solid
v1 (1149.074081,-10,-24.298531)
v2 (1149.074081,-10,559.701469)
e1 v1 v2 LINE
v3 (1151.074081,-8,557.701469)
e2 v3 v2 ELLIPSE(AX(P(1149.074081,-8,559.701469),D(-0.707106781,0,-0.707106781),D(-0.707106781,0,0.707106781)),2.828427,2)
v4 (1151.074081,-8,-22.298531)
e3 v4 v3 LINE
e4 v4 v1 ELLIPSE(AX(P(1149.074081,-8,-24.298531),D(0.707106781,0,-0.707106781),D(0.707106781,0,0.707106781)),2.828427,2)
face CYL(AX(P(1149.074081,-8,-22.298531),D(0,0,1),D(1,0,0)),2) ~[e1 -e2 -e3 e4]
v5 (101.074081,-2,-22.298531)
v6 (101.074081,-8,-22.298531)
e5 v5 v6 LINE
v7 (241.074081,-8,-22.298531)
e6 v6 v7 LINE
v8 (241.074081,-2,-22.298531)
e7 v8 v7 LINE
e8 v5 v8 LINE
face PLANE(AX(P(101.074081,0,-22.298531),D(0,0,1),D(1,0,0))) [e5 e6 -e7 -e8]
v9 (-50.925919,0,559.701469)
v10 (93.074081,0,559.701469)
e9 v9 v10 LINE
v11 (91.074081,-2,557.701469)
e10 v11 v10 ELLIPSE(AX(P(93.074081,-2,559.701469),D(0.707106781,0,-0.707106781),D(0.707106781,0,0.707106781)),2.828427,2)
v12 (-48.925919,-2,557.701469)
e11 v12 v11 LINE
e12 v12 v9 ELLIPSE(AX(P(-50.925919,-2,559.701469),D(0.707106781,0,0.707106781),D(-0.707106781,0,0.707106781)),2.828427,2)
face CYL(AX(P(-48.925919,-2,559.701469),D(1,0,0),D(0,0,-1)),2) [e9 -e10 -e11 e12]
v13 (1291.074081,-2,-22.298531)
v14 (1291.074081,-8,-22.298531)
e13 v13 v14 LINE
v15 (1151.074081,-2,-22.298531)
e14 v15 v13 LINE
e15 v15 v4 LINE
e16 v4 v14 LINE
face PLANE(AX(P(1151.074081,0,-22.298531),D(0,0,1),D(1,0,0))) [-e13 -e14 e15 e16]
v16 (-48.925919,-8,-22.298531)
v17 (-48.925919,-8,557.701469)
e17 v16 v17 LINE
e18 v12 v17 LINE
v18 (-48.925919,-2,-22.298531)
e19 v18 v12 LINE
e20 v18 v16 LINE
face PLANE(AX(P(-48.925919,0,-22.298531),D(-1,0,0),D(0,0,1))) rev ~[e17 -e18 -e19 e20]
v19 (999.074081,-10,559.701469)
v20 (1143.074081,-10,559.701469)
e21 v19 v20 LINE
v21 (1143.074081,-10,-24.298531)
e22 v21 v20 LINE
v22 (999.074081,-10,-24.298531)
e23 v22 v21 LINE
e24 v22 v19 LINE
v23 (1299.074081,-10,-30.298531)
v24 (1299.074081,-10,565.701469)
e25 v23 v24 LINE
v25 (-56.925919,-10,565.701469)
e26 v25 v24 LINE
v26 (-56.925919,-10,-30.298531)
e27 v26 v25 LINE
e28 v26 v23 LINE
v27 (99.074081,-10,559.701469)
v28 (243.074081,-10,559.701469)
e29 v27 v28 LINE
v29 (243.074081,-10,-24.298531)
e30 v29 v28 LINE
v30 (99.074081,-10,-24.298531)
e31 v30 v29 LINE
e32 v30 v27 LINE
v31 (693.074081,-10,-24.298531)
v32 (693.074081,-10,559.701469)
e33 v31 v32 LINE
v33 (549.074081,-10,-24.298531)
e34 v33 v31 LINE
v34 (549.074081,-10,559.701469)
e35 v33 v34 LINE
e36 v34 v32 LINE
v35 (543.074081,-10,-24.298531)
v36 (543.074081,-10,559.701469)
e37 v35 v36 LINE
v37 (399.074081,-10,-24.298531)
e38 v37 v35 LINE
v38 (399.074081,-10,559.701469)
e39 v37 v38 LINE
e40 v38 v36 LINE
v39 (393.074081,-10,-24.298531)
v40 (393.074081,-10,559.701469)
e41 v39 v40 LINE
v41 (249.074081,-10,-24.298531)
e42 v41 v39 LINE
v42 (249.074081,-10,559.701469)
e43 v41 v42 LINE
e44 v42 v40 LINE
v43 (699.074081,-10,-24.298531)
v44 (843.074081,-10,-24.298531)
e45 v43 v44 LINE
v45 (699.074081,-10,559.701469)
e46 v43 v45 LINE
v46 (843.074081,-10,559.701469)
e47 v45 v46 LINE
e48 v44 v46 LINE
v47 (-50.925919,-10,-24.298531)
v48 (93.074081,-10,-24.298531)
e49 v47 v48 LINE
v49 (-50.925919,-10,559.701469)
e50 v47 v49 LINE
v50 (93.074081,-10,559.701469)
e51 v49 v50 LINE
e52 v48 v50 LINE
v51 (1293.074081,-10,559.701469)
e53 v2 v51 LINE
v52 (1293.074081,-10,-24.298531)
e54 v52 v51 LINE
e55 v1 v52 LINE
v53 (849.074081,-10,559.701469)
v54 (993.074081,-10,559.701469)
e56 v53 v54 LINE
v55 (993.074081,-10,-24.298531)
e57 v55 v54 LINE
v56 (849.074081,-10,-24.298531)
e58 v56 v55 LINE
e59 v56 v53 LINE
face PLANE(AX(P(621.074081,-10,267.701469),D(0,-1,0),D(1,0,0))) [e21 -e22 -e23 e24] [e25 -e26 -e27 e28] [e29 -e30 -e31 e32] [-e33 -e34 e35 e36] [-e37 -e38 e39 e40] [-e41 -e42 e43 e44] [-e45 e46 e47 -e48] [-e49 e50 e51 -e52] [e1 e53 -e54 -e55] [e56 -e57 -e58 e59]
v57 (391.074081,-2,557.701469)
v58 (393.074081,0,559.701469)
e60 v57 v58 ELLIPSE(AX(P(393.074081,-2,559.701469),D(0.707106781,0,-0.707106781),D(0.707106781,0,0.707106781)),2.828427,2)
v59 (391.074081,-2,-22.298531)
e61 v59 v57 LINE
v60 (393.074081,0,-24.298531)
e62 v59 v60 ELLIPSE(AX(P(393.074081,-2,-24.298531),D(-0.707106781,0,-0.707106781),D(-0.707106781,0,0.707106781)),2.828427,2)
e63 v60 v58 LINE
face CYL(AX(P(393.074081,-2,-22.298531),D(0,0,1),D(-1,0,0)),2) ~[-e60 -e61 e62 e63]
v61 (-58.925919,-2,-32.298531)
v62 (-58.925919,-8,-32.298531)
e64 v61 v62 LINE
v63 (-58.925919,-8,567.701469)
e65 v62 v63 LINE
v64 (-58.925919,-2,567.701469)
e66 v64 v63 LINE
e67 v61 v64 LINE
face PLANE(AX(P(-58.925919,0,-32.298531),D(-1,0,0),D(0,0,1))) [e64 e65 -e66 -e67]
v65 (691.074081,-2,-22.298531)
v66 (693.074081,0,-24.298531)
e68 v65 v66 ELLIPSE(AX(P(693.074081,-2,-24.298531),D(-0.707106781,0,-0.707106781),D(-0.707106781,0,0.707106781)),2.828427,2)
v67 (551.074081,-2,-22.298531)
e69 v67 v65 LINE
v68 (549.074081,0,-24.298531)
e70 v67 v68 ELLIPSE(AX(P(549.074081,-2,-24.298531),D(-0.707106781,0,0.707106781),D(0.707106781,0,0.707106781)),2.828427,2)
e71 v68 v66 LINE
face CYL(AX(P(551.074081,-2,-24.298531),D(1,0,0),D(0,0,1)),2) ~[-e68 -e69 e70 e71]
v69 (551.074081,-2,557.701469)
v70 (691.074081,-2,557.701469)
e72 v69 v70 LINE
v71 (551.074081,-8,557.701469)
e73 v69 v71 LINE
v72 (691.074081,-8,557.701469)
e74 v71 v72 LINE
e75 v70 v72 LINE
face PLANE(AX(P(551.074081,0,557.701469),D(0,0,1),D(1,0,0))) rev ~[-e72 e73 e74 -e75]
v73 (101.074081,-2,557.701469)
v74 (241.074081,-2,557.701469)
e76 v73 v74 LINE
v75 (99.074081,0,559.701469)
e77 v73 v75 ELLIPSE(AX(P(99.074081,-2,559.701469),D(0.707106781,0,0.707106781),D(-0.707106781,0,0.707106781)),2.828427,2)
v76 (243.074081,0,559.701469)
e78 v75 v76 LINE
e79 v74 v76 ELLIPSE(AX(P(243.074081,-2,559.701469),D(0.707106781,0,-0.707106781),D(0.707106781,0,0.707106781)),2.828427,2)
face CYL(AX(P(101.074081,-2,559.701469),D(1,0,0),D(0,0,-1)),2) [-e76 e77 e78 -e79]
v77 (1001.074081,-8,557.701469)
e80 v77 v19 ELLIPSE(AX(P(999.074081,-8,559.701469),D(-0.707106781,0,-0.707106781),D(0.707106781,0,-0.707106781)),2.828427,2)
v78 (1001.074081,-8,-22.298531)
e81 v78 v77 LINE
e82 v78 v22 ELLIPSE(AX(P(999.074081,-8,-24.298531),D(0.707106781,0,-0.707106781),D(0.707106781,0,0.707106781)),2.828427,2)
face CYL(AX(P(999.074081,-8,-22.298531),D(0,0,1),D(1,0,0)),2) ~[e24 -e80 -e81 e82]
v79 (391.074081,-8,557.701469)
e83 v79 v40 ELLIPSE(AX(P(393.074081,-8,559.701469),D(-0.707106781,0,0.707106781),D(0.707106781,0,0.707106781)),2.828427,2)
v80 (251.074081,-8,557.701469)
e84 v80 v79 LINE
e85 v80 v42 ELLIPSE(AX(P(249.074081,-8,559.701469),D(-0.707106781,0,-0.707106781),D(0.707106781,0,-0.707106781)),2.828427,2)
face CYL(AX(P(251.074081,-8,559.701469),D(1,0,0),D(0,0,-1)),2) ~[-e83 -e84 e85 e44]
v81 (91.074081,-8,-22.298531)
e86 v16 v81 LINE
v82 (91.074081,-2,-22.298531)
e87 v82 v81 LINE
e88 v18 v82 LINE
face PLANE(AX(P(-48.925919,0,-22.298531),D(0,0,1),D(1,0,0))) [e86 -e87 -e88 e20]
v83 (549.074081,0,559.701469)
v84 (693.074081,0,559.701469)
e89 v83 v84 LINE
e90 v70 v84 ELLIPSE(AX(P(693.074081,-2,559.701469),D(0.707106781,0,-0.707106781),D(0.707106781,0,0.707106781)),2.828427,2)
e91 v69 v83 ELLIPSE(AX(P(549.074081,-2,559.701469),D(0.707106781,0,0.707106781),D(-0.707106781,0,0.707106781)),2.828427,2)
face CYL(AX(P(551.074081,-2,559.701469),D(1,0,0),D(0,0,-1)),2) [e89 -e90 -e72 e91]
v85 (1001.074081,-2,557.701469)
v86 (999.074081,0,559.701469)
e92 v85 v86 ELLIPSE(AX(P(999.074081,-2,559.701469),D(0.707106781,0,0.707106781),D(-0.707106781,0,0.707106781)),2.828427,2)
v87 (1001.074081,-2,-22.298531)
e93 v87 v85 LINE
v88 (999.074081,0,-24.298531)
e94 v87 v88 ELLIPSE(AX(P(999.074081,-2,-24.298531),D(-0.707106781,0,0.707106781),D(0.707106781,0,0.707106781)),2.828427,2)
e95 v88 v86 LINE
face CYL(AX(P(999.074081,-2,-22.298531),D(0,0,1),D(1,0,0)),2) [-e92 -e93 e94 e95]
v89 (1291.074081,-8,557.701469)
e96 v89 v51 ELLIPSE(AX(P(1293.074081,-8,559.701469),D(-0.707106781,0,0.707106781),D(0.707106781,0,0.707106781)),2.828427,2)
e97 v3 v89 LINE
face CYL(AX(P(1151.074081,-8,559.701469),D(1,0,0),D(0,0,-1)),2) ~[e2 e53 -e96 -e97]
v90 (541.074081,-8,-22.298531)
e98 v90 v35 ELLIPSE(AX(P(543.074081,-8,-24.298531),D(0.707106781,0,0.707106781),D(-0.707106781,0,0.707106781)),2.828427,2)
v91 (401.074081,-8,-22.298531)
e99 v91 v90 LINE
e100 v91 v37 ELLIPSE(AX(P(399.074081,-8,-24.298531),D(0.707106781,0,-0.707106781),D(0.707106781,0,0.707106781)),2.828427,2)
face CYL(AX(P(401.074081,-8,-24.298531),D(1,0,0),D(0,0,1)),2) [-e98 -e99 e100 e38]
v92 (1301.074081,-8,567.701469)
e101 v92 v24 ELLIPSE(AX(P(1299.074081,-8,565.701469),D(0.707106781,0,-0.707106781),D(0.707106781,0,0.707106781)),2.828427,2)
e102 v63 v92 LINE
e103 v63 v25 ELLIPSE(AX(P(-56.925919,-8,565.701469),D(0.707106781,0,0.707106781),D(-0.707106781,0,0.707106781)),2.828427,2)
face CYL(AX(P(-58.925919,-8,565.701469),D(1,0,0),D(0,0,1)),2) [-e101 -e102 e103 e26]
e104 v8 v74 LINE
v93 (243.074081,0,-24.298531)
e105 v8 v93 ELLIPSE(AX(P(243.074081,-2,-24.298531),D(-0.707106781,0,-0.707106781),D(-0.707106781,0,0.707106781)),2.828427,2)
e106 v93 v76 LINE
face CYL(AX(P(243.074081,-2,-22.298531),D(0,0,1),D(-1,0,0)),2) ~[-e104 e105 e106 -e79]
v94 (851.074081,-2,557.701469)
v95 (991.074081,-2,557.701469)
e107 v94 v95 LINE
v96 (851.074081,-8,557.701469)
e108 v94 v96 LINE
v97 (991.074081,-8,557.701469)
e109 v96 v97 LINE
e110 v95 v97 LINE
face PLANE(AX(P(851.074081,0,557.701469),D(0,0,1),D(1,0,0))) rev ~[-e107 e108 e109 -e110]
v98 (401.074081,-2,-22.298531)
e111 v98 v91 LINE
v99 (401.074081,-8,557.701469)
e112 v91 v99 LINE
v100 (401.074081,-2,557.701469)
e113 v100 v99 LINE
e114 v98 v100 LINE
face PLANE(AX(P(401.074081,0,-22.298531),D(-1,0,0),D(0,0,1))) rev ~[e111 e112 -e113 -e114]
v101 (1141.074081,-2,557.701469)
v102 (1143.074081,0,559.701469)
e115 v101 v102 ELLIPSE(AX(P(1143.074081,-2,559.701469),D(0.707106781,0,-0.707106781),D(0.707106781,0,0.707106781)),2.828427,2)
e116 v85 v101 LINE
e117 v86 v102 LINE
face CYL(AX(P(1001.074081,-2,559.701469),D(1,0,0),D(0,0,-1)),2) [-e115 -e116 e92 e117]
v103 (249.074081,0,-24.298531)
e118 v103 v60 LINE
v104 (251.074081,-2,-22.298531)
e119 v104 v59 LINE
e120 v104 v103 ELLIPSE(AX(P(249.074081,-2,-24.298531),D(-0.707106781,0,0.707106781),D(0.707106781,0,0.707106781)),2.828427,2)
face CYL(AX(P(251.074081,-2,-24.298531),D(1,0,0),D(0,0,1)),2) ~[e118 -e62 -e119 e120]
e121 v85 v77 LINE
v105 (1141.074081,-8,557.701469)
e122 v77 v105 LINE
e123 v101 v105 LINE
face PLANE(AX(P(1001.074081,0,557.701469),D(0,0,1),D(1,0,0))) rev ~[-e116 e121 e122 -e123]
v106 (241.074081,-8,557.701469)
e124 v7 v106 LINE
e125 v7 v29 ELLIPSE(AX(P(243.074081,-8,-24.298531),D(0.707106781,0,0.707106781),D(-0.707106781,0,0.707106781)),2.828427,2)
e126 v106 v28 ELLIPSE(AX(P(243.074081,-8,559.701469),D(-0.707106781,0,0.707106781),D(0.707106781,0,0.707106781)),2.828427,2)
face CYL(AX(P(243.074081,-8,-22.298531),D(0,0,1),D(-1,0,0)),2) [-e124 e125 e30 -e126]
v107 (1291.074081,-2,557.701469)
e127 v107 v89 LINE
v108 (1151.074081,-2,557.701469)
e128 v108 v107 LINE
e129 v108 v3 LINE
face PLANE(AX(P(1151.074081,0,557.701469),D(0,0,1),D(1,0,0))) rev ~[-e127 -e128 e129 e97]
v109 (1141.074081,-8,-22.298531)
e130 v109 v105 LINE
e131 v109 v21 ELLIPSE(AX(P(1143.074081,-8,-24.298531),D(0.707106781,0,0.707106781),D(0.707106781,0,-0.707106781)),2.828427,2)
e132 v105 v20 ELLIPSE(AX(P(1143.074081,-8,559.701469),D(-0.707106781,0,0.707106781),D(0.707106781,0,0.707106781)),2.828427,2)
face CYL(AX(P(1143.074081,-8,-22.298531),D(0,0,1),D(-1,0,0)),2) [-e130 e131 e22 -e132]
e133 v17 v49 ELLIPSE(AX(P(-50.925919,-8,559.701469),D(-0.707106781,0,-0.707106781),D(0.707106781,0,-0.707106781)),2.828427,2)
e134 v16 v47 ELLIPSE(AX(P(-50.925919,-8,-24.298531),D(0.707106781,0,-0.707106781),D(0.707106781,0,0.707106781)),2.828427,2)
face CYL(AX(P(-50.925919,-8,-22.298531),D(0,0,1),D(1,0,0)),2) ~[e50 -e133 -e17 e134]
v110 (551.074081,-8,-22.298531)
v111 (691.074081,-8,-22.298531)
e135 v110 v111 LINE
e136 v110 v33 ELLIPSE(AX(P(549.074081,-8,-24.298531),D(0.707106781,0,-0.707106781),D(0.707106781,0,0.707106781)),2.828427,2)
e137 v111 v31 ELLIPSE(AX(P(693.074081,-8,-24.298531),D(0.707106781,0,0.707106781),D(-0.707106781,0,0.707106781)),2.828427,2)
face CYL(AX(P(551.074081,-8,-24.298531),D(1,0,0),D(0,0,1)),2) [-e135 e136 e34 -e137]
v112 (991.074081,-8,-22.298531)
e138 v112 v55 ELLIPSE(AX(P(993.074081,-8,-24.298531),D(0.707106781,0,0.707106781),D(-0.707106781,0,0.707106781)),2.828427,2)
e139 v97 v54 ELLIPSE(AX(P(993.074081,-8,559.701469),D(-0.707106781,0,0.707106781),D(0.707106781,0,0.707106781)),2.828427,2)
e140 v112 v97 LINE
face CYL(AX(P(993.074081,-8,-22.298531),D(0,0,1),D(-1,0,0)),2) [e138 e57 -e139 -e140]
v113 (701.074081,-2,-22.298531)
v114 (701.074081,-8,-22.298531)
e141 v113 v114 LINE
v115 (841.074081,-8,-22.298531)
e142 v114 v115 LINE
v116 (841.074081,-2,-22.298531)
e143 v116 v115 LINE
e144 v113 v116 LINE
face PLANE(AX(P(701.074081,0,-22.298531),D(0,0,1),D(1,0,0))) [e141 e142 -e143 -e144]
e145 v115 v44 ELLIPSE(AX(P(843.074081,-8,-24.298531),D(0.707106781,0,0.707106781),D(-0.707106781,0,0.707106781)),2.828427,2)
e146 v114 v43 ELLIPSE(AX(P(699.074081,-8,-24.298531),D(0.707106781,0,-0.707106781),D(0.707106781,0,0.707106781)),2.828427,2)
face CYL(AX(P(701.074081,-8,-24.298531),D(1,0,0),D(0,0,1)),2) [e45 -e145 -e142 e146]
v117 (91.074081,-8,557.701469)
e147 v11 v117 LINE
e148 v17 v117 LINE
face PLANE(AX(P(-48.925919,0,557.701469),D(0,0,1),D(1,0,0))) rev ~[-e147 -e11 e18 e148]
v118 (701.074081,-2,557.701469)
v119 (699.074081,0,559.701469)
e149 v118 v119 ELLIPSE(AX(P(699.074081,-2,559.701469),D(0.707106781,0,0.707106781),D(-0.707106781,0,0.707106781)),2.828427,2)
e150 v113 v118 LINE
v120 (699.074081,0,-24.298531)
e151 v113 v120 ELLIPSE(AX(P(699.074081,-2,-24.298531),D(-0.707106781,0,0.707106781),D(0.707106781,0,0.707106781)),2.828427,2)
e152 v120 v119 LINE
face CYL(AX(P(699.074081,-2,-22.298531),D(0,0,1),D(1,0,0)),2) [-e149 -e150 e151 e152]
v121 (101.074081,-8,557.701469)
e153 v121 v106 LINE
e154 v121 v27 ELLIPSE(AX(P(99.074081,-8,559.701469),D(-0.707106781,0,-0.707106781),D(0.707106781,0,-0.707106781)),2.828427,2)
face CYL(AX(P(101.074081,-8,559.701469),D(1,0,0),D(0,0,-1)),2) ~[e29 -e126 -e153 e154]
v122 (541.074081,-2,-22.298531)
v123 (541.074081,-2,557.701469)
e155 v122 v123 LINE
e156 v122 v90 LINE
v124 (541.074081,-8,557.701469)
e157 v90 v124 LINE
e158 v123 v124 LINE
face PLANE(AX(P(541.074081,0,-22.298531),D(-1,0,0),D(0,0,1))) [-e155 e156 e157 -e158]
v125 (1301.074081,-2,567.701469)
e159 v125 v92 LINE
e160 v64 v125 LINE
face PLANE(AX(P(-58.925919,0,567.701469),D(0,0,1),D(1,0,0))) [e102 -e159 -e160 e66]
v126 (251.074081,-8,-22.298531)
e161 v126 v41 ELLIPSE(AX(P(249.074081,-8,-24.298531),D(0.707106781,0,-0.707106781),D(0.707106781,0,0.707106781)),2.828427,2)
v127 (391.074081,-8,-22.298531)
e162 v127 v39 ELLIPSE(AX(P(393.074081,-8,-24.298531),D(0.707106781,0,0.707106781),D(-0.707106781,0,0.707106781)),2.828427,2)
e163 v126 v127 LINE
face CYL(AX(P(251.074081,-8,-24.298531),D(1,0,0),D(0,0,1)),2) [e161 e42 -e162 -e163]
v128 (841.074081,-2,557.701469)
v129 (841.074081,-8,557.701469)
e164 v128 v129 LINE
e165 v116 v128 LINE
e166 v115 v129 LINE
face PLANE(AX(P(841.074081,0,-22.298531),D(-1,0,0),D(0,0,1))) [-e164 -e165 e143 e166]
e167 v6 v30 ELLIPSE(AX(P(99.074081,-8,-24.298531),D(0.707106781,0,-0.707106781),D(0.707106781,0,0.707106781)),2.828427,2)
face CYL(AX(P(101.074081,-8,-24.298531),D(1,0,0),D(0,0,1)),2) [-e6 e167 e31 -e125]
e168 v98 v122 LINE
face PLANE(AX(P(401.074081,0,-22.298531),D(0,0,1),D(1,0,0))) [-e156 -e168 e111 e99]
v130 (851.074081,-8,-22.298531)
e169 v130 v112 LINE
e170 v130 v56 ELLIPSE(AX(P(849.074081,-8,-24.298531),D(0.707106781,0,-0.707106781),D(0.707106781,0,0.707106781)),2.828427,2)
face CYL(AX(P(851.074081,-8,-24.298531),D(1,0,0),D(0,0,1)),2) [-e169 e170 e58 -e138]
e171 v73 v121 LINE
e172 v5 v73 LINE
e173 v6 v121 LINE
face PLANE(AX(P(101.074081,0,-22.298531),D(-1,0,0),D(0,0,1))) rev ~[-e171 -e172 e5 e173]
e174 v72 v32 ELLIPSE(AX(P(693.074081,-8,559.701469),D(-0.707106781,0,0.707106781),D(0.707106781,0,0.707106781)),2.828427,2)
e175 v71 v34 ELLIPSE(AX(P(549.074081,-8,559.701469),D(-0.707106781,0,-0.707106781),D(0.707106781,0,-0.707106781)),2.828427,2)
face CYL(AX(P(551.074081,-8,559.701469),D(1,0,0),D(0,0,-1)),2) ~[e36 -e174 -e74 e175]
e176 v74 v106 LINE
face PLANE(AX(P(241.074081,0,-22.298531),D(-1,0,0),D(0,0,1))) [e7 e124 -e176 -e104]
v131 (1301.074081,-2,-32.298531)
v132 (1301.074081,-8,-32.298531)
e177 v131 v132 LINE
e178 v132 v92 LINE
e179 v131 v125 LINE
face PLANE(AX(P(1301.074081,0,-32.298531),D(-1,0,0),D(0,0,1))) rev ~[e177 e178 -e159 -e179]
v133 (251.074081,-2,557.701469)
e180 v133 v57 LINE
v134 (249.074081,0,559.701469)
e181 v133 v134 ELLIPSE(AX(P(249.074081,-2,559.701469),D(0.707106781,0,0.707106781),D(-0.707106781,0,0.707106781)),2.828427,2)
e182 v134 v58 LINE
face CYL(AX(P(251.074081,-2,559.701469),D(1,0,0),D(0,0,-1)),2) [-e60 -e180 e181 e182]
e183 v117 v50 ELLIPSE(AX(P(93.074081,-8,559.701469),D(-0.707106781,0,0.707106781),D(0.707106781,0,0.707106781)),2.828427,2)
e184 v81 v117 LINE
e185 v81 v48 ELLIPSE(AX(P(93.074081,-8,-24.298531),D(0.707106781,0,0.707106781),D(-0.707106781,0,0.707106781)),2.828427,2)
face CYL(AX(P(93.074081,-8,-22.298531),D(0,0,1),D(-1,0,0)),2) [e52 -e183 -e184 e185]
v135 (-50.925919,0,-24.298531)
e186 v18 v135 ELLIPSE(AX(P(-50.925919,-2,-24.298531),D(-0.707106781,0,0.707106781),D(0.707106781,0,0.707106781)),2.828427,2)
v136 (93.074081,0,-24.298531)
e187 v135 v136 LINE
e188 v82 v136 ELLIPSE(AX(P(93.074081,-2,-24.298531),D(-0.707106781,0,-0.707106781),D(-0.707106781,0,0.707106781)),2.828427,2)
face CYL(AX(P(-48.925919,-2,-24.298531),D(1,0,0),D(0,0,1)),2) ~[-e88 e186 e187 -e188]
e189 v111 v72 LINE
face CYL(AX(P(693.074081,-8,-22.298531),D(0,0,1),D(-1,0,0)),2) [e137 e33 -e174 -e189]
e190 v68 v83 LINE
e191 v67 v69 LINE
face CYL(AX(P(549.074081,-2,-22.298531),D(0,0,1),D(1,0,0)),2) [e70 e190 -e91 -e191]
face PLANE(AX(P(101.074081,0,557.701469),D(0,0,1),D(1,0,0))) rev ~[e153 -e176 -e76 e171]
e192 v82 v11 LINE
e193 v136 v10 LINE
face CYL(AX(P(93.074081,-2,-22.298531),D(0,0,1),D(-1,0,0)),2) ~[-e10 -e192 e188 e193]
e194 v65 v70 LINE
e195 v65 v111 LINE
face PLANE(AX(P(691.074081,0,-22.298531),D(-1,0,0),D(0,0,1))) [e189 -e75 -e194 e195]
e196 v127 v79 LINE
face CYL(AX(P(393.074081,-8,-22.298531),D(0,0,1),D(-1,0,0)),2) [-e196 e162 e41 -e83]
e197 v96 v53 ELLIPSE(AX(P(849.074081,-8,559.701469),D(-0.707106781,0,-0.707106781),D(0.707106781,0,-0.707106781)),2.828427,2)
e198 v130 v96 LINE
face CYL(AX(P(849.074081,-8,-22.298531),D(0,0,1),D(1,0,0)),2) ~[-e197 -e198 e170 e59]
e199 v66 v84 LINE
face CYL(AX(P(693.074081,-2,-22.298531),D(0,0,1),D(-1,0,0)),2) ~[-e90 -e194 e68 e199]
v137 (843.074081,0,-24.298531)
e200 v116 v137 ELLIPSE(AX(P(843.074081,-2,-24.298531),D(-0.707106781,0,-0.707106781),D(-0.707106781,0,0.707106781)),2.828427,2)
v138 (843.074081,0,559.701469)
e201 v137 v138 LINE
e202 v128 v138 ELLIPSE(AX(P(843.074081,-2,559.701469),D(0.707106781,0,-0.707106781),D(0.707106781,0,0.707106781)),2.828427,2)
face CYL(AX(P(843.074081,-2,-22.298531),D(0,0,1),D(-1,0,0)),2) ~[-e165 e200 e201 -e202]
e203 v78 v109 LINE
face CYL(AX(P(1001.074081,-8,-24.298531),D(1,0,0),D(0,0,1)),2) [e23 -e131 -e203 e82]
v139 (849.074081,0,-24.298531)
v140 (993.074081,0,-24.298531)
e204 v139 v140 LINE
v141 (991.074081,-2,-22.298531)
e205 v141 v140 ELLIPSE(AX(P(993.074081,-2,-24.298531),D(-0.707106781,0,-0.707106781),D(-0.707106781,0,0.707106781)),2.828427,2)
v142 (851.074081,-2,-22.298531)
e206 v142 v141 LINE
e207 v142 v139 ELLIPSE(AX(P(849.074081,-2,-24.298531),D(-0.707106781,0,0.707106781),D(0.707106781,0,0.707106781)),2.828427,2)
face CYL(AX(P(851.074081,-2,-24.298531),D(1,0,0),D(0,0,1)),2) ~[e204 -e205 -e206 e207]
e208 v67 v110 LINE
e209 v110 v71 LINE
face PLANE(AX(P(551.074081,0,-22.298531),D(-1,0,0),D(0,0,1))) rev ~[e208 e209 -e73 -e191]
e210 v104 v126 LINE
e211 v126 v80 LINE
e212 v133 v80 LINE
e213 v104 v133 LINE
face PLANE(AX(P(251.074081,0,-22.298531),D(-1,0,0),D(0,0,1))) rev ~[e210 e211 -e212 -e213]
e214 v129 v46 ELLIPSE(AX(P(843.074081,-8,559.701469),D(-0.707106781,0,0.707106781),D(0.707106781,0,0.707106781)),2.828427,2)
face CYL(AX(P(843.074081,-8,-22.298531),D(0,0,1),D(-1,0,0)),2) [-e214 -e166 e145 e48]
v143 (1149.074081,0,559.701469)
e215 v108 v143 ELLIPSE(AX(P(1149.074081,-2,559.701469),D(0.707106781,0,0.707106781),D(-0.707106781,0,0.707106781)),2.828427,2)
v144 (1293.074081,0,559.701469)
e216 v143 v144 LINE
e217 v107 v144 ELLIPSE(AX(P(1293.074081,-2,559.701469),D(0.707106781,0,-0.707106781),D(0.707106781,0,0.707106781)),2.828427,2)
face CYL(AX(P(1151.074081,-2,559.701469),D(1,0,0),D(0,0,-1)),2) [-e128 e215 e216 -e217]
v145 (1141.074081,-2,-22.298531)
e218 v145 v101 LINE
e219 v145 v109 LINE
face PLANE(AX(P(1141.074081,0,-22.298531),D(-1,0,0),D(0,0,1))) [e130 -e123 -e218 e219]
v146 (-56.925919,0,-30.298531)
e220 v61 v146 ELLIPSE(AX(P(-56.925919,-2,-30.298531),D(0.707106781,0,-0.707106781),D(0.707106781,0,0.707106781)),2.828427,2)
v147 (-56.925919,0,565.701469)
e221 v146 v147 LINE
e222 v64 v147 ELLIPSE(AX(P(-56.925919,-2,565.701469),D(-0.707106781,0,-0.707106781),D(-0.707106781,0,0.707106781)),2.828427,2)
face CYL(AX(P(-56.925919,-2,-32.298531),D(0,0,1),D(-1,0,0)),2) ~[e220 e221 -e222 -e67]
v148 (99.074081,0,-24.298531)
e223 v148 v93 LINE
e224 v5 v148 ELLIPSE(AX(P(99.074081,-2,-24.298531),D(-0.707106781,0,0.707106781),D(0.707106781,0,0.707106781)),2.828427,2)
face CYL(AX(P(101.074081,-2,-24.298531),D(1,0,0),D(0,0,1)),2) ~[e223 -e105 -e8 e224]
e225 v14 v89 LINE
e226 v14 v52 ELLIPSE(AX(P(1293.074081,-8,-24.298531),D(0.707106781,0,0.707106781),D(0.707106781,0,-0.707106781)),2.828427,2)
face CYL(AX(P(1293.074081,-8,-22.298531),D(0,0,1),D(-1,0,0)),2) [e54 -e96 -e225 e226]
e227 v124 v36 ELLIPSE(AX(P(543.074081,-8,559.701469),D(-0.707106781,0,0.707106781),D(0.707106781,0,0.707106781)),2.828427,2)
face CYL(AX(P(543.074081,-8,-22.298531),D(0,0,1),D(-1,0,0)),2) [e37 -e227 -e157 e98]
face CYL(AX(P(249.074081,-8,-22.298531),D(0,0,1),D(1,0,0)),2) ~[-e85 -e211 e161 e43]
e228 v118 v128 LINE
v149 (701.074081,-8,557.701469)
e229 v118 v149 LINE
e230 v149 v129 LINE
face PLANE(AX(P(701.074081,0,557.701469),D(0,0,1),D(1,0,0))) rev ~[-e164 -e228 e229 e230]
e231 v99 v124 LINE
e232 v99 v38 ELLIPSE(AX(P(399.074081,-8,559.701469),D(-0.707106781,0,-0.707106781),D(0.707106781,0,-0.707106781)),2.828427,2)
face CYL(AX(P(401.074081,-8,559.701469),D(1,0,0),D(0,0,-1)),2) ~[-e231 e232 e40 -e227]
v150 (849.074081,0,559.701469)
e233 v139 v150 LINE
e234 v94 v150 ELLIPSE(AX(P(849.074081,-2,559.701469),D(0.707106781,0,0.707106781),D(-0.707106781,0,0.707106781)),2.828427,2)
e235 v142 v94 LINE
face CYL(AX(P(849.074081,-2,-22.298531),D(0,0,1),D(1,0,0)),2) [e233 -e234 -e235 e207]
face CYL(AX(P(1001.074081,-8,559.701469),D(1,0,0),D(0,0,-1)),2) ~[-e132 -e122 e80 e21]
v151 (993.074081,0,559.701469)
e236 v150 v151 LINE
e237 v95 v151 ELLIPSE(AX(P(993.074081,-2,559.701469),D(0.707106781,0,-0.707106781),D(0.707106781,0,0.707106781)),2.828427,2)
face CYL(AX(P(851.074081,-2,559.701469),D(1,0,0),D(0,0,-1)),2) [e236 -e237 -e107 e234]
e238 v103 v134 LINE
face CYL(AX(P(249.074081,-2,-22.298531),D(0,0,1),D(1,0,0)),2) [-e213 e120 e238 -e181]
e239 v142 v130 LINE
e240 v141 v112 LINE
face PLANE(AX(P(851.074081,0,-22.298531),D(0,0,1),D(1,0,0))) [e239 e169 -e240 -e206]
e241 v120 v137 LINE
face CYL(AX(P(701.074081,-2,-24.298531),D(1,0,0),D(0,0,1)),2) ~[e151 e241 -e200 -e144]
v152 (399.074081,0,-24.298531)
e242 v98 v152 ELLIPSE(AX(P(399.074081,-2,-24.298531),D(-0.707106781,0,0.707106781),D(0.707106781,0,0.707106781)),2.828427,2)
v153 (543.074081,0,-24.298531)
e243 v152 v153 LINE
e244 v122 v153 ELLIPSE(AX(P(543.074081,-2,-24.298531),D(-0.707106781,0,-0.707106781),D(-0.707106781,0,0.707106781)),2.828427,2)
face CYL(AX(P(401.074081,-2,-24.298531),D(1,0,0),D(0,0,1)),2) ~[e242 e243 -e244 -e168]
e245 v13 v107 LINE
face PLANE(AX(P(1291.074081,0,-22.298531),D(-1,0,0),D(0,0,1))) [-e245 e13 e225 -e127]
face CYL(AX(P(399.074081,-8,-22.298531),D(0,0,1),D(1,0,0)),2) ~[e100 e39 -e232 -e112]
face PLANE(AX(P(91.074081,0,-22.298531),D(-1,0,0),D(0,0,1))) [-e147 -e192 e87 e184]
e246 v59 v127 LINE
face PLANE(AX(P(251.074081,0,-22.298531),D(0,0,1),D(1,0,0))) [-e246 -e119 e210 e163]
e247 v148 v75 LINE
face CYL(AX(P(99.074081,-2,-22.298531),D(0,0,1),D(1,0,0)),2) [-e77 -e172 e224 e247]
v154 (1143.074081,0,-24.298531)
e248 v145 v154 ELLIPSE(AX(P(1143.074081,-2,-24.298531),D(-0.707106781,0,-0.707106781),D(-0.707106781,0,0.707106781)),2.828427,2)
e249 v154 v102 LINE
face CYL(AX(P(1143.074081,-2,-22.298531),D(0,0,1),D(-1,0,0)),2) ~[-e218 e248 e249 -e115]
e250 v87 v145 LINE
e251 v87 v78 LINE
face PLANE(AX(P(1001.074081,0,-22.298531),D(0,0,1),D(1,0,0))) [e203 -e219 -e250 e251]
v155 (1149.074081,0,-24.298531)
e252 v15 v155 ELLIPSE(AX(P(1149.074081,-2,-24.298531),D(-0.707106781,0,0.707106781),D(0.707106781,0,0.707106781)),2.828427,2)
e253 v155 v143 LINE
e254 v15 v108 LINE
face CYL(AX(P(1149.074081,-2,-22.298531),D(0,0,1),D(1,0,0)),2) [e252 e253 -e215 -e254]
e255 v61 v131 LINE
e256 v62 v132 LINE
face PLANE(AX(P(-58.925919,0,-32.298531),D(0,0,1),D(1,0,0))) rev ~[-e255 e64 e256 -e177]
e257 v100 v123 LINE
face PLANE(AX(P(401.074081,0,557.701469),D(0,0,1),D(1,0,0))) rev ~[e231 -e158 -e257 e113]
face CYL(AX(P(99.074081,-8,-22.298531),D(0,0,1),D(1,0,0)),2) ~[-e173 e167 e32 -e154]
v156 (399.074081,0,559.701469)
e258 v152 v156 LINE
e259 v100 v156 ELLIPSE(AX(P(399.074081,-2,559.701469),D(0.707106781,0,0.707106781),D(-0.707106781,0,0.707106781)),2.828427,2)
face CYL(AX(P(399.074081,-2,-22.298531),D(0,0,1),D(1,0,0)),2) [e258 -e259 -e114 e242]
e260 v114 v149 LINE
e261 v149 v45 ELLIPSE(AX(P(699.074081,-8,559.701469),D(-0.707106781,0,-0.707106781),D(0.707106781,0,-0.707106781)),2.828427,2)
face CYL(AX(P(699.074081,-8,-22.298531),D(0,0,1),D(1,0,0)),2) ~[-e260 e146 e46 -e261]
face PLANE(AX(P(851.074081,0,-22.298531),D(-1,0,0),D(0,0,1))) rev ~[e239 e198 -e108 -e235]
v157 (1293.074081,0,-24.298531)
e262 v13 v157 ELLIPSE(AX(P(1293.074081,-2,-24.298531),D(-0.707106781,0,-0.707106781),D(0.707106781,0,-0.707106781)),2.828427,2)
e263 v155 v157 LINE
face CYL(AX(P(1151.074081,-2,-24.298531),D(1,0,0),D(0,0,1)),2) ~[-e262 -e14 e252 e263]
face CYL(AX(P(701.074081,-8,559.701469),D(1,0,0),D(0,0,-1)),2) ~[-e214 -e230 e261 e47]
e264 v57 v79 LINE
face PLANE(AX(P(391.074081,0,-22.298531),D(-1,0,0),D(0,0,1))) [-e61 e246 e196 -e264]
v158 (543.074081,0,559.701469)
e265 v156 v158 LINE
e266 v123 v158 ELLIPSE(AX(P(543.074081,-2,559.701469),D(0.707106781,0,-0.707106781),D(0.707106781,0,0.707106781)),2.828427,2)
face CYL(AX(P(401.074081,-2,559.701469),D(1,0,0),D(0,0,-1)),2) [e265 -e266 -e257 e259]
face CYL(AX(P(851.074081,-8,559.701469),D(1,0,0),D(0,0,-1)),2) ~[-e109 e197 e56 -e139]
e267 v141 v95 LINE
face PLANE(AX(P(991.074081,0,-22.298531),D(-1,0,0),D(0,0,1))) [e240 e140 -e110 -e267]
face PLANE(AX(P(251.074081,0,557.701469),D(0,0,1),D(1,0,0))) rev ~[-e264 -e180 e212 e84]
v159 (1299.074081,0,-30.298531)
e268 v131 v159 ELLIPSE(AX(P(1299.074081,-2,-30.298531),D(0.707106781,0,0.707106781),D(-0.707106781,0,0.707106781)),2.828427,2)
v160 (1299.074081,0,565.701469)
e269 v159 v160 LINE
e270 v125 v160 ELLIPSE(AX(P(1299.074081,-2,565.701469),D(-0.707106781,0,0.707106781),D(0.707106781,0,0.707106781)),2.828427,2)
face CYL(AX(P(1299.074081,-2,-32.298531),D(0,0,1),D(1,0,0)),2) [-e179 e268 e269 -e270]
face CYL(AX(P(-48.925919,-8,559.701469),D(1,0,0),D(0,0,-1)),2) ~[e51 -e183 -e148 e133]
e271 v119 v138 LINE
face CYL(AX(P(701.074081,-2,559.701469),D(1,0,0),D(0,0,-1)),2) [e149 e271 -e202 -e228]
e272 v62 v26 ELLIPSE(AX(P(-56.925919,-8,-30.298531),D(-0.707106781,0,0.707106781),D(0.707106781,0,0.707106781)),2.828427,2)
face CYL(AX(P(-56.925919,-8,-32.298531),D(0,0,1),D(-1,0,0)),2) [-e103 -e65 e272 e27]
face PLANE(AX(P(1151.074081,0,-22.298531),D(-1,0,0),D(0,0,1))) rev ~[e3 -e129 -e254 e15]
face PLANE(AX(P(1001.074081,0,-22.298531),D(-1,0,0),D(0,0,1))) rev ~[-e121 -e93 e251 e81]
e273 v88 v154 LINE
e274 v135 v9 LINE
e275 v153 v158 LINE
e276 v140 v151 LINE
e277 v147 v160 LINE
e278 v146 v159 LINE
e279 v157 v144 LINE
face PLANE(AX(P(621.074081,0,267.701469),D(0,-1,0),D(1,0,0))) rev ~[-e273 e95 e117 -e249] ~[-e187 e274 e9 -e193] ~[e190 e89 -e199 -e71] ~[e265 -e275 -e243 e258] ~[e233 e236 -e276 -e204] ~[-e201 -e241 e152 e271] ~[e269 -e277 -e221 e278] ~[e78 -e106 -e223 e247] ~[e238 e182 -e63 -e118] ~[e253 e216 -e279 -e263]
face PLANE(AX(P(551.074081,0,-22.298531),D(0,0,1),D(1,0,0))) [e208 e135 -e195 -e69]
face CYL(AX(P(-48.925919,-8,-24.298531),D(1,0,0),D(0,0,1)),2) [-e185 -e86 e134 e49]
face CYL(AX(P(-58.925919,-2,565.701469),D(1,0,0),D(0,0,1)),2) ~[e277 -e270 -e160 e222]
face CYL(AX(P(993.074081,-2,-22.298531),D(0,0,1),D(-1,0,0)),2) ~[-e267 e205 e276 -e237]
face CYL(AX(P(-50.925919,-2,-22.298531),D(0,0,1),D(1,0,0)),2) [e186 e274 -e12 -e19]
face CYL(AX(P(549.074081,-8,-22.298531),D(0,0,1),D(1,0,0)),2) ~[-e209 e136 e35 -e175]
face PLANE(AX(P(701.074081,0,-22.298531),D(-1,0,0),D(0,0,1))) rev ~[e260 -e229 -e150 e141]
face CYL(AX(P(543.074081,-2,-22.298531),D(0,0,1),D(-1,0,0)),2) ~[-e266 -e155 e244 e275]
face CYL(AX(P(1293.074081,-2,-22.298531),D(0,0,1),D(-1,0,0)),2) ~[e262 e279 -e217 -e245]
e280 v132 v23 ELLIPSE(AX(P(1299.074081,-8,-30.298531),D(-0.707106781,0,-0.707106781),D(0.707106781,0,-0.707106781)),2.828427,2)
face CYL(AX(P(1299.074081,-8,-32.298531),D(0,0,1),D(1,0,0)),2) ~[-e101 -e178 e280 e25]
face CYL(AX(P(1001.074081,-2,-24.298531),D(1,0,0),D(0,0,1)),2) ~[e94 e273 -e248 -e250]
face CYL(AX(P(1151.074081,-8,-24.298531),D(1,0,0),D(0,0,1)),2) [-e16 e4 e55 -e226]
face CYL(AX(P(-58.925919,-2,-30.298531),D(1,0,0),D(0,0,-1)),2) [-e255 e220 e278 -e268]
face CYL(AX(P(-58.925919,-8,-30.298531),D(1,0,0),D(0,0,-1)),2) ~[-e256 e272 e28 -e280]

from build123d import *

# Parameters (mm, degrees)
F0_W     = 1360
F0_H     = 600
F0_W_2   = 140
F0_H_2   = 580
F1_DEPTH = 10
F2_R     = 2


with BuildPart() as f1:
    # F0 (on Front) → F1 (new body)
    with BuildSketch(Plane.XZ):
        with Locations((621.074081, 267.701469)):
            Rectangle(F0_W, F0_H)
        with Locations((21.074081, 267.701469)):
            Rectangle(F0_W_2, F0_H_2, mode=Mode.SUBTRACT)
        with Locations((171.074081, 267.701469)):
            Rectangle(F0_W_2, F0_H_2, mode=Mode.SUBTRACT)
        with Locations((321.074081, 267.701469)):
            Rectangle(F0_W_2, F0_H_2, mode=Mode.SUBTRACT)
        with Locations((471.074081, 267.701469)):
            Rectangle(F0_W_2, F0_H_2, mode=Mode.SUBTRACT)
        with Locations((621.074081, 267.701469)):
            Rectangle(F0_W_2, F0_H_2, mode=Mode.SUBTRACT)
        with Locations((771.074081, 267.701469)):
            Rectangle(F0_W_2, F0_H_2, mode=Mode.SUBTRACT)
        with Locations((921.074081, 267.701469)):
            Rectangle(F0_W_2, F0_H_2, mode=Mode.SUBTRACT)
        with Locations((1071.074081, 267.701469)):
            Rectangle(F0_W_2, F0_H_2, mode=Mode.SUBTRACT)
        with Locations((1221.074081, 267.701469)):
            Rectangle(F0_W_2, F0_H_2, mode=Mode.SUBTRACT)
    extrude(amount=F1_DEPTH)

    # F2
    f2_edges = [f1.edges().sort_by_distance(p)[0] for p in [
        (1221.074081, -10, -22.298531),
        (1151.074081, -10, 267.701469),
        (1071.074081, -10, -22.298531),
        (1141.074081, -10, 267.701469),
        (1221.074081, 0, -22.298531),
        (1151.074081, 0, 267.701469),
        (621.074081, -10, -32.298531),
        (1301.074081, -10, 267.701469),
        (1301.074081, 0, 267.701469),
        (1291.074081, -10, 267.701469),
        (621.074081, 0, -32.298531),
        (1291.074081, 0, 267.701469),
        (1141.074081, 0, 267.701469),
        (1071.074081, 0, -22.298531),
        (1001.074081, 0, 267.701469),
        (991.074081, 0, 267.701469),
        (991.074081, -10, 267.701469),
        (921.074081, 0, -22.298531),
        (841.074081, 0, 267.701469),
        (841.074081, -10, 267.701469),
        (771.074081, 0, -22.298531),
        (851.074081, 0, 267.701469),
        (701.074081, 0, 267.701469),
        (691.074081, 0, 267.701469),
        (691.074081, -10, 267.701469),
        (621.074081, 0, -22.298531),
        (551.074081, 0, 267.701469),
        (541.074081, 0, 267.701469),
        (541.074081, -10, 267.701469),
        (471.074081, 0, -22.298531),
        (401.074081, 0, 267.701469),
        (391.074081, 0, 267.701469),
        (321.074081, 0, -22.298531),
        (391.074081, -10, 267.701469),
        (251.074081, 0, 267.701469),
        (241.074081, 0, 267.701469),
        (241.074081, -10, 267.701469),
        (171.074081, 0, -22.298531),
        (101.074081, 0, 267.701469),
        (91.074081, 0, 267.701469),
        (91.074081, -10, 267.701469),
        (21.074081, 0, -22.298531),
        (-48.925919, 0, 267.701469),
        (-58.925919, 0, 267.701469),
        (-58.925919, -10, 267.701469),
        (21.074081, -10, 557.701469),
        (621.074081, 0, 567.701469),
        (171.074081, 0, 557.701469),
        (171.074081, -10, 557.701469),
        (471.074081, -10, 557.701469),
        (471.074081, 0, 557.701469),
        (321.074081, -10, 557.701469),
        (321.074081, 0, 557.701469),
        (771.074081, -10, 557.701469),
        (771.074081, 0, 557.701469),
        (621.074081, -10, 557.701469),
        (621.074081, 0, 557.701469),
        (1071.074081, -10, 557.701469),
        (1071.074081, 0, 557.701469),
        (921.074081, -10, 557.701469),
        (921.074081, 0, 557.701469),
        (1221.074081, -10, 557.701469),
        (1221.074081, 0, 557.701469),
        (1001.074081, -10, 267.701469),
        (851.074081, -10, 267.701469),
        (701.074081, -10, 267.701469),
        (551.074081, -10, 267.701469),
        (401.074081, -10, 267.701469),
        (251.074081, -10, 267.701469),
        (101.074081, -10, 267.701469),
        (-48.925919, -10, 267.701469),
        (621.074081, -10, 567.701469),
        (921.074081, -10, -22.298531),
        (771.074081, -10, -22.298531),
        (621.074081, -10, -22.298531),
        (471.074081, -10, -22.298531),
        (321.074081, -10, -22.298531),
        (171.074081, -10, -22.298531),
        (21.074081, -10, -22.298531),
        (21.074081, 0, 557.701469),
    ]]
    fillet(f2_edges, radius=F2_R)


solid = f1.part
